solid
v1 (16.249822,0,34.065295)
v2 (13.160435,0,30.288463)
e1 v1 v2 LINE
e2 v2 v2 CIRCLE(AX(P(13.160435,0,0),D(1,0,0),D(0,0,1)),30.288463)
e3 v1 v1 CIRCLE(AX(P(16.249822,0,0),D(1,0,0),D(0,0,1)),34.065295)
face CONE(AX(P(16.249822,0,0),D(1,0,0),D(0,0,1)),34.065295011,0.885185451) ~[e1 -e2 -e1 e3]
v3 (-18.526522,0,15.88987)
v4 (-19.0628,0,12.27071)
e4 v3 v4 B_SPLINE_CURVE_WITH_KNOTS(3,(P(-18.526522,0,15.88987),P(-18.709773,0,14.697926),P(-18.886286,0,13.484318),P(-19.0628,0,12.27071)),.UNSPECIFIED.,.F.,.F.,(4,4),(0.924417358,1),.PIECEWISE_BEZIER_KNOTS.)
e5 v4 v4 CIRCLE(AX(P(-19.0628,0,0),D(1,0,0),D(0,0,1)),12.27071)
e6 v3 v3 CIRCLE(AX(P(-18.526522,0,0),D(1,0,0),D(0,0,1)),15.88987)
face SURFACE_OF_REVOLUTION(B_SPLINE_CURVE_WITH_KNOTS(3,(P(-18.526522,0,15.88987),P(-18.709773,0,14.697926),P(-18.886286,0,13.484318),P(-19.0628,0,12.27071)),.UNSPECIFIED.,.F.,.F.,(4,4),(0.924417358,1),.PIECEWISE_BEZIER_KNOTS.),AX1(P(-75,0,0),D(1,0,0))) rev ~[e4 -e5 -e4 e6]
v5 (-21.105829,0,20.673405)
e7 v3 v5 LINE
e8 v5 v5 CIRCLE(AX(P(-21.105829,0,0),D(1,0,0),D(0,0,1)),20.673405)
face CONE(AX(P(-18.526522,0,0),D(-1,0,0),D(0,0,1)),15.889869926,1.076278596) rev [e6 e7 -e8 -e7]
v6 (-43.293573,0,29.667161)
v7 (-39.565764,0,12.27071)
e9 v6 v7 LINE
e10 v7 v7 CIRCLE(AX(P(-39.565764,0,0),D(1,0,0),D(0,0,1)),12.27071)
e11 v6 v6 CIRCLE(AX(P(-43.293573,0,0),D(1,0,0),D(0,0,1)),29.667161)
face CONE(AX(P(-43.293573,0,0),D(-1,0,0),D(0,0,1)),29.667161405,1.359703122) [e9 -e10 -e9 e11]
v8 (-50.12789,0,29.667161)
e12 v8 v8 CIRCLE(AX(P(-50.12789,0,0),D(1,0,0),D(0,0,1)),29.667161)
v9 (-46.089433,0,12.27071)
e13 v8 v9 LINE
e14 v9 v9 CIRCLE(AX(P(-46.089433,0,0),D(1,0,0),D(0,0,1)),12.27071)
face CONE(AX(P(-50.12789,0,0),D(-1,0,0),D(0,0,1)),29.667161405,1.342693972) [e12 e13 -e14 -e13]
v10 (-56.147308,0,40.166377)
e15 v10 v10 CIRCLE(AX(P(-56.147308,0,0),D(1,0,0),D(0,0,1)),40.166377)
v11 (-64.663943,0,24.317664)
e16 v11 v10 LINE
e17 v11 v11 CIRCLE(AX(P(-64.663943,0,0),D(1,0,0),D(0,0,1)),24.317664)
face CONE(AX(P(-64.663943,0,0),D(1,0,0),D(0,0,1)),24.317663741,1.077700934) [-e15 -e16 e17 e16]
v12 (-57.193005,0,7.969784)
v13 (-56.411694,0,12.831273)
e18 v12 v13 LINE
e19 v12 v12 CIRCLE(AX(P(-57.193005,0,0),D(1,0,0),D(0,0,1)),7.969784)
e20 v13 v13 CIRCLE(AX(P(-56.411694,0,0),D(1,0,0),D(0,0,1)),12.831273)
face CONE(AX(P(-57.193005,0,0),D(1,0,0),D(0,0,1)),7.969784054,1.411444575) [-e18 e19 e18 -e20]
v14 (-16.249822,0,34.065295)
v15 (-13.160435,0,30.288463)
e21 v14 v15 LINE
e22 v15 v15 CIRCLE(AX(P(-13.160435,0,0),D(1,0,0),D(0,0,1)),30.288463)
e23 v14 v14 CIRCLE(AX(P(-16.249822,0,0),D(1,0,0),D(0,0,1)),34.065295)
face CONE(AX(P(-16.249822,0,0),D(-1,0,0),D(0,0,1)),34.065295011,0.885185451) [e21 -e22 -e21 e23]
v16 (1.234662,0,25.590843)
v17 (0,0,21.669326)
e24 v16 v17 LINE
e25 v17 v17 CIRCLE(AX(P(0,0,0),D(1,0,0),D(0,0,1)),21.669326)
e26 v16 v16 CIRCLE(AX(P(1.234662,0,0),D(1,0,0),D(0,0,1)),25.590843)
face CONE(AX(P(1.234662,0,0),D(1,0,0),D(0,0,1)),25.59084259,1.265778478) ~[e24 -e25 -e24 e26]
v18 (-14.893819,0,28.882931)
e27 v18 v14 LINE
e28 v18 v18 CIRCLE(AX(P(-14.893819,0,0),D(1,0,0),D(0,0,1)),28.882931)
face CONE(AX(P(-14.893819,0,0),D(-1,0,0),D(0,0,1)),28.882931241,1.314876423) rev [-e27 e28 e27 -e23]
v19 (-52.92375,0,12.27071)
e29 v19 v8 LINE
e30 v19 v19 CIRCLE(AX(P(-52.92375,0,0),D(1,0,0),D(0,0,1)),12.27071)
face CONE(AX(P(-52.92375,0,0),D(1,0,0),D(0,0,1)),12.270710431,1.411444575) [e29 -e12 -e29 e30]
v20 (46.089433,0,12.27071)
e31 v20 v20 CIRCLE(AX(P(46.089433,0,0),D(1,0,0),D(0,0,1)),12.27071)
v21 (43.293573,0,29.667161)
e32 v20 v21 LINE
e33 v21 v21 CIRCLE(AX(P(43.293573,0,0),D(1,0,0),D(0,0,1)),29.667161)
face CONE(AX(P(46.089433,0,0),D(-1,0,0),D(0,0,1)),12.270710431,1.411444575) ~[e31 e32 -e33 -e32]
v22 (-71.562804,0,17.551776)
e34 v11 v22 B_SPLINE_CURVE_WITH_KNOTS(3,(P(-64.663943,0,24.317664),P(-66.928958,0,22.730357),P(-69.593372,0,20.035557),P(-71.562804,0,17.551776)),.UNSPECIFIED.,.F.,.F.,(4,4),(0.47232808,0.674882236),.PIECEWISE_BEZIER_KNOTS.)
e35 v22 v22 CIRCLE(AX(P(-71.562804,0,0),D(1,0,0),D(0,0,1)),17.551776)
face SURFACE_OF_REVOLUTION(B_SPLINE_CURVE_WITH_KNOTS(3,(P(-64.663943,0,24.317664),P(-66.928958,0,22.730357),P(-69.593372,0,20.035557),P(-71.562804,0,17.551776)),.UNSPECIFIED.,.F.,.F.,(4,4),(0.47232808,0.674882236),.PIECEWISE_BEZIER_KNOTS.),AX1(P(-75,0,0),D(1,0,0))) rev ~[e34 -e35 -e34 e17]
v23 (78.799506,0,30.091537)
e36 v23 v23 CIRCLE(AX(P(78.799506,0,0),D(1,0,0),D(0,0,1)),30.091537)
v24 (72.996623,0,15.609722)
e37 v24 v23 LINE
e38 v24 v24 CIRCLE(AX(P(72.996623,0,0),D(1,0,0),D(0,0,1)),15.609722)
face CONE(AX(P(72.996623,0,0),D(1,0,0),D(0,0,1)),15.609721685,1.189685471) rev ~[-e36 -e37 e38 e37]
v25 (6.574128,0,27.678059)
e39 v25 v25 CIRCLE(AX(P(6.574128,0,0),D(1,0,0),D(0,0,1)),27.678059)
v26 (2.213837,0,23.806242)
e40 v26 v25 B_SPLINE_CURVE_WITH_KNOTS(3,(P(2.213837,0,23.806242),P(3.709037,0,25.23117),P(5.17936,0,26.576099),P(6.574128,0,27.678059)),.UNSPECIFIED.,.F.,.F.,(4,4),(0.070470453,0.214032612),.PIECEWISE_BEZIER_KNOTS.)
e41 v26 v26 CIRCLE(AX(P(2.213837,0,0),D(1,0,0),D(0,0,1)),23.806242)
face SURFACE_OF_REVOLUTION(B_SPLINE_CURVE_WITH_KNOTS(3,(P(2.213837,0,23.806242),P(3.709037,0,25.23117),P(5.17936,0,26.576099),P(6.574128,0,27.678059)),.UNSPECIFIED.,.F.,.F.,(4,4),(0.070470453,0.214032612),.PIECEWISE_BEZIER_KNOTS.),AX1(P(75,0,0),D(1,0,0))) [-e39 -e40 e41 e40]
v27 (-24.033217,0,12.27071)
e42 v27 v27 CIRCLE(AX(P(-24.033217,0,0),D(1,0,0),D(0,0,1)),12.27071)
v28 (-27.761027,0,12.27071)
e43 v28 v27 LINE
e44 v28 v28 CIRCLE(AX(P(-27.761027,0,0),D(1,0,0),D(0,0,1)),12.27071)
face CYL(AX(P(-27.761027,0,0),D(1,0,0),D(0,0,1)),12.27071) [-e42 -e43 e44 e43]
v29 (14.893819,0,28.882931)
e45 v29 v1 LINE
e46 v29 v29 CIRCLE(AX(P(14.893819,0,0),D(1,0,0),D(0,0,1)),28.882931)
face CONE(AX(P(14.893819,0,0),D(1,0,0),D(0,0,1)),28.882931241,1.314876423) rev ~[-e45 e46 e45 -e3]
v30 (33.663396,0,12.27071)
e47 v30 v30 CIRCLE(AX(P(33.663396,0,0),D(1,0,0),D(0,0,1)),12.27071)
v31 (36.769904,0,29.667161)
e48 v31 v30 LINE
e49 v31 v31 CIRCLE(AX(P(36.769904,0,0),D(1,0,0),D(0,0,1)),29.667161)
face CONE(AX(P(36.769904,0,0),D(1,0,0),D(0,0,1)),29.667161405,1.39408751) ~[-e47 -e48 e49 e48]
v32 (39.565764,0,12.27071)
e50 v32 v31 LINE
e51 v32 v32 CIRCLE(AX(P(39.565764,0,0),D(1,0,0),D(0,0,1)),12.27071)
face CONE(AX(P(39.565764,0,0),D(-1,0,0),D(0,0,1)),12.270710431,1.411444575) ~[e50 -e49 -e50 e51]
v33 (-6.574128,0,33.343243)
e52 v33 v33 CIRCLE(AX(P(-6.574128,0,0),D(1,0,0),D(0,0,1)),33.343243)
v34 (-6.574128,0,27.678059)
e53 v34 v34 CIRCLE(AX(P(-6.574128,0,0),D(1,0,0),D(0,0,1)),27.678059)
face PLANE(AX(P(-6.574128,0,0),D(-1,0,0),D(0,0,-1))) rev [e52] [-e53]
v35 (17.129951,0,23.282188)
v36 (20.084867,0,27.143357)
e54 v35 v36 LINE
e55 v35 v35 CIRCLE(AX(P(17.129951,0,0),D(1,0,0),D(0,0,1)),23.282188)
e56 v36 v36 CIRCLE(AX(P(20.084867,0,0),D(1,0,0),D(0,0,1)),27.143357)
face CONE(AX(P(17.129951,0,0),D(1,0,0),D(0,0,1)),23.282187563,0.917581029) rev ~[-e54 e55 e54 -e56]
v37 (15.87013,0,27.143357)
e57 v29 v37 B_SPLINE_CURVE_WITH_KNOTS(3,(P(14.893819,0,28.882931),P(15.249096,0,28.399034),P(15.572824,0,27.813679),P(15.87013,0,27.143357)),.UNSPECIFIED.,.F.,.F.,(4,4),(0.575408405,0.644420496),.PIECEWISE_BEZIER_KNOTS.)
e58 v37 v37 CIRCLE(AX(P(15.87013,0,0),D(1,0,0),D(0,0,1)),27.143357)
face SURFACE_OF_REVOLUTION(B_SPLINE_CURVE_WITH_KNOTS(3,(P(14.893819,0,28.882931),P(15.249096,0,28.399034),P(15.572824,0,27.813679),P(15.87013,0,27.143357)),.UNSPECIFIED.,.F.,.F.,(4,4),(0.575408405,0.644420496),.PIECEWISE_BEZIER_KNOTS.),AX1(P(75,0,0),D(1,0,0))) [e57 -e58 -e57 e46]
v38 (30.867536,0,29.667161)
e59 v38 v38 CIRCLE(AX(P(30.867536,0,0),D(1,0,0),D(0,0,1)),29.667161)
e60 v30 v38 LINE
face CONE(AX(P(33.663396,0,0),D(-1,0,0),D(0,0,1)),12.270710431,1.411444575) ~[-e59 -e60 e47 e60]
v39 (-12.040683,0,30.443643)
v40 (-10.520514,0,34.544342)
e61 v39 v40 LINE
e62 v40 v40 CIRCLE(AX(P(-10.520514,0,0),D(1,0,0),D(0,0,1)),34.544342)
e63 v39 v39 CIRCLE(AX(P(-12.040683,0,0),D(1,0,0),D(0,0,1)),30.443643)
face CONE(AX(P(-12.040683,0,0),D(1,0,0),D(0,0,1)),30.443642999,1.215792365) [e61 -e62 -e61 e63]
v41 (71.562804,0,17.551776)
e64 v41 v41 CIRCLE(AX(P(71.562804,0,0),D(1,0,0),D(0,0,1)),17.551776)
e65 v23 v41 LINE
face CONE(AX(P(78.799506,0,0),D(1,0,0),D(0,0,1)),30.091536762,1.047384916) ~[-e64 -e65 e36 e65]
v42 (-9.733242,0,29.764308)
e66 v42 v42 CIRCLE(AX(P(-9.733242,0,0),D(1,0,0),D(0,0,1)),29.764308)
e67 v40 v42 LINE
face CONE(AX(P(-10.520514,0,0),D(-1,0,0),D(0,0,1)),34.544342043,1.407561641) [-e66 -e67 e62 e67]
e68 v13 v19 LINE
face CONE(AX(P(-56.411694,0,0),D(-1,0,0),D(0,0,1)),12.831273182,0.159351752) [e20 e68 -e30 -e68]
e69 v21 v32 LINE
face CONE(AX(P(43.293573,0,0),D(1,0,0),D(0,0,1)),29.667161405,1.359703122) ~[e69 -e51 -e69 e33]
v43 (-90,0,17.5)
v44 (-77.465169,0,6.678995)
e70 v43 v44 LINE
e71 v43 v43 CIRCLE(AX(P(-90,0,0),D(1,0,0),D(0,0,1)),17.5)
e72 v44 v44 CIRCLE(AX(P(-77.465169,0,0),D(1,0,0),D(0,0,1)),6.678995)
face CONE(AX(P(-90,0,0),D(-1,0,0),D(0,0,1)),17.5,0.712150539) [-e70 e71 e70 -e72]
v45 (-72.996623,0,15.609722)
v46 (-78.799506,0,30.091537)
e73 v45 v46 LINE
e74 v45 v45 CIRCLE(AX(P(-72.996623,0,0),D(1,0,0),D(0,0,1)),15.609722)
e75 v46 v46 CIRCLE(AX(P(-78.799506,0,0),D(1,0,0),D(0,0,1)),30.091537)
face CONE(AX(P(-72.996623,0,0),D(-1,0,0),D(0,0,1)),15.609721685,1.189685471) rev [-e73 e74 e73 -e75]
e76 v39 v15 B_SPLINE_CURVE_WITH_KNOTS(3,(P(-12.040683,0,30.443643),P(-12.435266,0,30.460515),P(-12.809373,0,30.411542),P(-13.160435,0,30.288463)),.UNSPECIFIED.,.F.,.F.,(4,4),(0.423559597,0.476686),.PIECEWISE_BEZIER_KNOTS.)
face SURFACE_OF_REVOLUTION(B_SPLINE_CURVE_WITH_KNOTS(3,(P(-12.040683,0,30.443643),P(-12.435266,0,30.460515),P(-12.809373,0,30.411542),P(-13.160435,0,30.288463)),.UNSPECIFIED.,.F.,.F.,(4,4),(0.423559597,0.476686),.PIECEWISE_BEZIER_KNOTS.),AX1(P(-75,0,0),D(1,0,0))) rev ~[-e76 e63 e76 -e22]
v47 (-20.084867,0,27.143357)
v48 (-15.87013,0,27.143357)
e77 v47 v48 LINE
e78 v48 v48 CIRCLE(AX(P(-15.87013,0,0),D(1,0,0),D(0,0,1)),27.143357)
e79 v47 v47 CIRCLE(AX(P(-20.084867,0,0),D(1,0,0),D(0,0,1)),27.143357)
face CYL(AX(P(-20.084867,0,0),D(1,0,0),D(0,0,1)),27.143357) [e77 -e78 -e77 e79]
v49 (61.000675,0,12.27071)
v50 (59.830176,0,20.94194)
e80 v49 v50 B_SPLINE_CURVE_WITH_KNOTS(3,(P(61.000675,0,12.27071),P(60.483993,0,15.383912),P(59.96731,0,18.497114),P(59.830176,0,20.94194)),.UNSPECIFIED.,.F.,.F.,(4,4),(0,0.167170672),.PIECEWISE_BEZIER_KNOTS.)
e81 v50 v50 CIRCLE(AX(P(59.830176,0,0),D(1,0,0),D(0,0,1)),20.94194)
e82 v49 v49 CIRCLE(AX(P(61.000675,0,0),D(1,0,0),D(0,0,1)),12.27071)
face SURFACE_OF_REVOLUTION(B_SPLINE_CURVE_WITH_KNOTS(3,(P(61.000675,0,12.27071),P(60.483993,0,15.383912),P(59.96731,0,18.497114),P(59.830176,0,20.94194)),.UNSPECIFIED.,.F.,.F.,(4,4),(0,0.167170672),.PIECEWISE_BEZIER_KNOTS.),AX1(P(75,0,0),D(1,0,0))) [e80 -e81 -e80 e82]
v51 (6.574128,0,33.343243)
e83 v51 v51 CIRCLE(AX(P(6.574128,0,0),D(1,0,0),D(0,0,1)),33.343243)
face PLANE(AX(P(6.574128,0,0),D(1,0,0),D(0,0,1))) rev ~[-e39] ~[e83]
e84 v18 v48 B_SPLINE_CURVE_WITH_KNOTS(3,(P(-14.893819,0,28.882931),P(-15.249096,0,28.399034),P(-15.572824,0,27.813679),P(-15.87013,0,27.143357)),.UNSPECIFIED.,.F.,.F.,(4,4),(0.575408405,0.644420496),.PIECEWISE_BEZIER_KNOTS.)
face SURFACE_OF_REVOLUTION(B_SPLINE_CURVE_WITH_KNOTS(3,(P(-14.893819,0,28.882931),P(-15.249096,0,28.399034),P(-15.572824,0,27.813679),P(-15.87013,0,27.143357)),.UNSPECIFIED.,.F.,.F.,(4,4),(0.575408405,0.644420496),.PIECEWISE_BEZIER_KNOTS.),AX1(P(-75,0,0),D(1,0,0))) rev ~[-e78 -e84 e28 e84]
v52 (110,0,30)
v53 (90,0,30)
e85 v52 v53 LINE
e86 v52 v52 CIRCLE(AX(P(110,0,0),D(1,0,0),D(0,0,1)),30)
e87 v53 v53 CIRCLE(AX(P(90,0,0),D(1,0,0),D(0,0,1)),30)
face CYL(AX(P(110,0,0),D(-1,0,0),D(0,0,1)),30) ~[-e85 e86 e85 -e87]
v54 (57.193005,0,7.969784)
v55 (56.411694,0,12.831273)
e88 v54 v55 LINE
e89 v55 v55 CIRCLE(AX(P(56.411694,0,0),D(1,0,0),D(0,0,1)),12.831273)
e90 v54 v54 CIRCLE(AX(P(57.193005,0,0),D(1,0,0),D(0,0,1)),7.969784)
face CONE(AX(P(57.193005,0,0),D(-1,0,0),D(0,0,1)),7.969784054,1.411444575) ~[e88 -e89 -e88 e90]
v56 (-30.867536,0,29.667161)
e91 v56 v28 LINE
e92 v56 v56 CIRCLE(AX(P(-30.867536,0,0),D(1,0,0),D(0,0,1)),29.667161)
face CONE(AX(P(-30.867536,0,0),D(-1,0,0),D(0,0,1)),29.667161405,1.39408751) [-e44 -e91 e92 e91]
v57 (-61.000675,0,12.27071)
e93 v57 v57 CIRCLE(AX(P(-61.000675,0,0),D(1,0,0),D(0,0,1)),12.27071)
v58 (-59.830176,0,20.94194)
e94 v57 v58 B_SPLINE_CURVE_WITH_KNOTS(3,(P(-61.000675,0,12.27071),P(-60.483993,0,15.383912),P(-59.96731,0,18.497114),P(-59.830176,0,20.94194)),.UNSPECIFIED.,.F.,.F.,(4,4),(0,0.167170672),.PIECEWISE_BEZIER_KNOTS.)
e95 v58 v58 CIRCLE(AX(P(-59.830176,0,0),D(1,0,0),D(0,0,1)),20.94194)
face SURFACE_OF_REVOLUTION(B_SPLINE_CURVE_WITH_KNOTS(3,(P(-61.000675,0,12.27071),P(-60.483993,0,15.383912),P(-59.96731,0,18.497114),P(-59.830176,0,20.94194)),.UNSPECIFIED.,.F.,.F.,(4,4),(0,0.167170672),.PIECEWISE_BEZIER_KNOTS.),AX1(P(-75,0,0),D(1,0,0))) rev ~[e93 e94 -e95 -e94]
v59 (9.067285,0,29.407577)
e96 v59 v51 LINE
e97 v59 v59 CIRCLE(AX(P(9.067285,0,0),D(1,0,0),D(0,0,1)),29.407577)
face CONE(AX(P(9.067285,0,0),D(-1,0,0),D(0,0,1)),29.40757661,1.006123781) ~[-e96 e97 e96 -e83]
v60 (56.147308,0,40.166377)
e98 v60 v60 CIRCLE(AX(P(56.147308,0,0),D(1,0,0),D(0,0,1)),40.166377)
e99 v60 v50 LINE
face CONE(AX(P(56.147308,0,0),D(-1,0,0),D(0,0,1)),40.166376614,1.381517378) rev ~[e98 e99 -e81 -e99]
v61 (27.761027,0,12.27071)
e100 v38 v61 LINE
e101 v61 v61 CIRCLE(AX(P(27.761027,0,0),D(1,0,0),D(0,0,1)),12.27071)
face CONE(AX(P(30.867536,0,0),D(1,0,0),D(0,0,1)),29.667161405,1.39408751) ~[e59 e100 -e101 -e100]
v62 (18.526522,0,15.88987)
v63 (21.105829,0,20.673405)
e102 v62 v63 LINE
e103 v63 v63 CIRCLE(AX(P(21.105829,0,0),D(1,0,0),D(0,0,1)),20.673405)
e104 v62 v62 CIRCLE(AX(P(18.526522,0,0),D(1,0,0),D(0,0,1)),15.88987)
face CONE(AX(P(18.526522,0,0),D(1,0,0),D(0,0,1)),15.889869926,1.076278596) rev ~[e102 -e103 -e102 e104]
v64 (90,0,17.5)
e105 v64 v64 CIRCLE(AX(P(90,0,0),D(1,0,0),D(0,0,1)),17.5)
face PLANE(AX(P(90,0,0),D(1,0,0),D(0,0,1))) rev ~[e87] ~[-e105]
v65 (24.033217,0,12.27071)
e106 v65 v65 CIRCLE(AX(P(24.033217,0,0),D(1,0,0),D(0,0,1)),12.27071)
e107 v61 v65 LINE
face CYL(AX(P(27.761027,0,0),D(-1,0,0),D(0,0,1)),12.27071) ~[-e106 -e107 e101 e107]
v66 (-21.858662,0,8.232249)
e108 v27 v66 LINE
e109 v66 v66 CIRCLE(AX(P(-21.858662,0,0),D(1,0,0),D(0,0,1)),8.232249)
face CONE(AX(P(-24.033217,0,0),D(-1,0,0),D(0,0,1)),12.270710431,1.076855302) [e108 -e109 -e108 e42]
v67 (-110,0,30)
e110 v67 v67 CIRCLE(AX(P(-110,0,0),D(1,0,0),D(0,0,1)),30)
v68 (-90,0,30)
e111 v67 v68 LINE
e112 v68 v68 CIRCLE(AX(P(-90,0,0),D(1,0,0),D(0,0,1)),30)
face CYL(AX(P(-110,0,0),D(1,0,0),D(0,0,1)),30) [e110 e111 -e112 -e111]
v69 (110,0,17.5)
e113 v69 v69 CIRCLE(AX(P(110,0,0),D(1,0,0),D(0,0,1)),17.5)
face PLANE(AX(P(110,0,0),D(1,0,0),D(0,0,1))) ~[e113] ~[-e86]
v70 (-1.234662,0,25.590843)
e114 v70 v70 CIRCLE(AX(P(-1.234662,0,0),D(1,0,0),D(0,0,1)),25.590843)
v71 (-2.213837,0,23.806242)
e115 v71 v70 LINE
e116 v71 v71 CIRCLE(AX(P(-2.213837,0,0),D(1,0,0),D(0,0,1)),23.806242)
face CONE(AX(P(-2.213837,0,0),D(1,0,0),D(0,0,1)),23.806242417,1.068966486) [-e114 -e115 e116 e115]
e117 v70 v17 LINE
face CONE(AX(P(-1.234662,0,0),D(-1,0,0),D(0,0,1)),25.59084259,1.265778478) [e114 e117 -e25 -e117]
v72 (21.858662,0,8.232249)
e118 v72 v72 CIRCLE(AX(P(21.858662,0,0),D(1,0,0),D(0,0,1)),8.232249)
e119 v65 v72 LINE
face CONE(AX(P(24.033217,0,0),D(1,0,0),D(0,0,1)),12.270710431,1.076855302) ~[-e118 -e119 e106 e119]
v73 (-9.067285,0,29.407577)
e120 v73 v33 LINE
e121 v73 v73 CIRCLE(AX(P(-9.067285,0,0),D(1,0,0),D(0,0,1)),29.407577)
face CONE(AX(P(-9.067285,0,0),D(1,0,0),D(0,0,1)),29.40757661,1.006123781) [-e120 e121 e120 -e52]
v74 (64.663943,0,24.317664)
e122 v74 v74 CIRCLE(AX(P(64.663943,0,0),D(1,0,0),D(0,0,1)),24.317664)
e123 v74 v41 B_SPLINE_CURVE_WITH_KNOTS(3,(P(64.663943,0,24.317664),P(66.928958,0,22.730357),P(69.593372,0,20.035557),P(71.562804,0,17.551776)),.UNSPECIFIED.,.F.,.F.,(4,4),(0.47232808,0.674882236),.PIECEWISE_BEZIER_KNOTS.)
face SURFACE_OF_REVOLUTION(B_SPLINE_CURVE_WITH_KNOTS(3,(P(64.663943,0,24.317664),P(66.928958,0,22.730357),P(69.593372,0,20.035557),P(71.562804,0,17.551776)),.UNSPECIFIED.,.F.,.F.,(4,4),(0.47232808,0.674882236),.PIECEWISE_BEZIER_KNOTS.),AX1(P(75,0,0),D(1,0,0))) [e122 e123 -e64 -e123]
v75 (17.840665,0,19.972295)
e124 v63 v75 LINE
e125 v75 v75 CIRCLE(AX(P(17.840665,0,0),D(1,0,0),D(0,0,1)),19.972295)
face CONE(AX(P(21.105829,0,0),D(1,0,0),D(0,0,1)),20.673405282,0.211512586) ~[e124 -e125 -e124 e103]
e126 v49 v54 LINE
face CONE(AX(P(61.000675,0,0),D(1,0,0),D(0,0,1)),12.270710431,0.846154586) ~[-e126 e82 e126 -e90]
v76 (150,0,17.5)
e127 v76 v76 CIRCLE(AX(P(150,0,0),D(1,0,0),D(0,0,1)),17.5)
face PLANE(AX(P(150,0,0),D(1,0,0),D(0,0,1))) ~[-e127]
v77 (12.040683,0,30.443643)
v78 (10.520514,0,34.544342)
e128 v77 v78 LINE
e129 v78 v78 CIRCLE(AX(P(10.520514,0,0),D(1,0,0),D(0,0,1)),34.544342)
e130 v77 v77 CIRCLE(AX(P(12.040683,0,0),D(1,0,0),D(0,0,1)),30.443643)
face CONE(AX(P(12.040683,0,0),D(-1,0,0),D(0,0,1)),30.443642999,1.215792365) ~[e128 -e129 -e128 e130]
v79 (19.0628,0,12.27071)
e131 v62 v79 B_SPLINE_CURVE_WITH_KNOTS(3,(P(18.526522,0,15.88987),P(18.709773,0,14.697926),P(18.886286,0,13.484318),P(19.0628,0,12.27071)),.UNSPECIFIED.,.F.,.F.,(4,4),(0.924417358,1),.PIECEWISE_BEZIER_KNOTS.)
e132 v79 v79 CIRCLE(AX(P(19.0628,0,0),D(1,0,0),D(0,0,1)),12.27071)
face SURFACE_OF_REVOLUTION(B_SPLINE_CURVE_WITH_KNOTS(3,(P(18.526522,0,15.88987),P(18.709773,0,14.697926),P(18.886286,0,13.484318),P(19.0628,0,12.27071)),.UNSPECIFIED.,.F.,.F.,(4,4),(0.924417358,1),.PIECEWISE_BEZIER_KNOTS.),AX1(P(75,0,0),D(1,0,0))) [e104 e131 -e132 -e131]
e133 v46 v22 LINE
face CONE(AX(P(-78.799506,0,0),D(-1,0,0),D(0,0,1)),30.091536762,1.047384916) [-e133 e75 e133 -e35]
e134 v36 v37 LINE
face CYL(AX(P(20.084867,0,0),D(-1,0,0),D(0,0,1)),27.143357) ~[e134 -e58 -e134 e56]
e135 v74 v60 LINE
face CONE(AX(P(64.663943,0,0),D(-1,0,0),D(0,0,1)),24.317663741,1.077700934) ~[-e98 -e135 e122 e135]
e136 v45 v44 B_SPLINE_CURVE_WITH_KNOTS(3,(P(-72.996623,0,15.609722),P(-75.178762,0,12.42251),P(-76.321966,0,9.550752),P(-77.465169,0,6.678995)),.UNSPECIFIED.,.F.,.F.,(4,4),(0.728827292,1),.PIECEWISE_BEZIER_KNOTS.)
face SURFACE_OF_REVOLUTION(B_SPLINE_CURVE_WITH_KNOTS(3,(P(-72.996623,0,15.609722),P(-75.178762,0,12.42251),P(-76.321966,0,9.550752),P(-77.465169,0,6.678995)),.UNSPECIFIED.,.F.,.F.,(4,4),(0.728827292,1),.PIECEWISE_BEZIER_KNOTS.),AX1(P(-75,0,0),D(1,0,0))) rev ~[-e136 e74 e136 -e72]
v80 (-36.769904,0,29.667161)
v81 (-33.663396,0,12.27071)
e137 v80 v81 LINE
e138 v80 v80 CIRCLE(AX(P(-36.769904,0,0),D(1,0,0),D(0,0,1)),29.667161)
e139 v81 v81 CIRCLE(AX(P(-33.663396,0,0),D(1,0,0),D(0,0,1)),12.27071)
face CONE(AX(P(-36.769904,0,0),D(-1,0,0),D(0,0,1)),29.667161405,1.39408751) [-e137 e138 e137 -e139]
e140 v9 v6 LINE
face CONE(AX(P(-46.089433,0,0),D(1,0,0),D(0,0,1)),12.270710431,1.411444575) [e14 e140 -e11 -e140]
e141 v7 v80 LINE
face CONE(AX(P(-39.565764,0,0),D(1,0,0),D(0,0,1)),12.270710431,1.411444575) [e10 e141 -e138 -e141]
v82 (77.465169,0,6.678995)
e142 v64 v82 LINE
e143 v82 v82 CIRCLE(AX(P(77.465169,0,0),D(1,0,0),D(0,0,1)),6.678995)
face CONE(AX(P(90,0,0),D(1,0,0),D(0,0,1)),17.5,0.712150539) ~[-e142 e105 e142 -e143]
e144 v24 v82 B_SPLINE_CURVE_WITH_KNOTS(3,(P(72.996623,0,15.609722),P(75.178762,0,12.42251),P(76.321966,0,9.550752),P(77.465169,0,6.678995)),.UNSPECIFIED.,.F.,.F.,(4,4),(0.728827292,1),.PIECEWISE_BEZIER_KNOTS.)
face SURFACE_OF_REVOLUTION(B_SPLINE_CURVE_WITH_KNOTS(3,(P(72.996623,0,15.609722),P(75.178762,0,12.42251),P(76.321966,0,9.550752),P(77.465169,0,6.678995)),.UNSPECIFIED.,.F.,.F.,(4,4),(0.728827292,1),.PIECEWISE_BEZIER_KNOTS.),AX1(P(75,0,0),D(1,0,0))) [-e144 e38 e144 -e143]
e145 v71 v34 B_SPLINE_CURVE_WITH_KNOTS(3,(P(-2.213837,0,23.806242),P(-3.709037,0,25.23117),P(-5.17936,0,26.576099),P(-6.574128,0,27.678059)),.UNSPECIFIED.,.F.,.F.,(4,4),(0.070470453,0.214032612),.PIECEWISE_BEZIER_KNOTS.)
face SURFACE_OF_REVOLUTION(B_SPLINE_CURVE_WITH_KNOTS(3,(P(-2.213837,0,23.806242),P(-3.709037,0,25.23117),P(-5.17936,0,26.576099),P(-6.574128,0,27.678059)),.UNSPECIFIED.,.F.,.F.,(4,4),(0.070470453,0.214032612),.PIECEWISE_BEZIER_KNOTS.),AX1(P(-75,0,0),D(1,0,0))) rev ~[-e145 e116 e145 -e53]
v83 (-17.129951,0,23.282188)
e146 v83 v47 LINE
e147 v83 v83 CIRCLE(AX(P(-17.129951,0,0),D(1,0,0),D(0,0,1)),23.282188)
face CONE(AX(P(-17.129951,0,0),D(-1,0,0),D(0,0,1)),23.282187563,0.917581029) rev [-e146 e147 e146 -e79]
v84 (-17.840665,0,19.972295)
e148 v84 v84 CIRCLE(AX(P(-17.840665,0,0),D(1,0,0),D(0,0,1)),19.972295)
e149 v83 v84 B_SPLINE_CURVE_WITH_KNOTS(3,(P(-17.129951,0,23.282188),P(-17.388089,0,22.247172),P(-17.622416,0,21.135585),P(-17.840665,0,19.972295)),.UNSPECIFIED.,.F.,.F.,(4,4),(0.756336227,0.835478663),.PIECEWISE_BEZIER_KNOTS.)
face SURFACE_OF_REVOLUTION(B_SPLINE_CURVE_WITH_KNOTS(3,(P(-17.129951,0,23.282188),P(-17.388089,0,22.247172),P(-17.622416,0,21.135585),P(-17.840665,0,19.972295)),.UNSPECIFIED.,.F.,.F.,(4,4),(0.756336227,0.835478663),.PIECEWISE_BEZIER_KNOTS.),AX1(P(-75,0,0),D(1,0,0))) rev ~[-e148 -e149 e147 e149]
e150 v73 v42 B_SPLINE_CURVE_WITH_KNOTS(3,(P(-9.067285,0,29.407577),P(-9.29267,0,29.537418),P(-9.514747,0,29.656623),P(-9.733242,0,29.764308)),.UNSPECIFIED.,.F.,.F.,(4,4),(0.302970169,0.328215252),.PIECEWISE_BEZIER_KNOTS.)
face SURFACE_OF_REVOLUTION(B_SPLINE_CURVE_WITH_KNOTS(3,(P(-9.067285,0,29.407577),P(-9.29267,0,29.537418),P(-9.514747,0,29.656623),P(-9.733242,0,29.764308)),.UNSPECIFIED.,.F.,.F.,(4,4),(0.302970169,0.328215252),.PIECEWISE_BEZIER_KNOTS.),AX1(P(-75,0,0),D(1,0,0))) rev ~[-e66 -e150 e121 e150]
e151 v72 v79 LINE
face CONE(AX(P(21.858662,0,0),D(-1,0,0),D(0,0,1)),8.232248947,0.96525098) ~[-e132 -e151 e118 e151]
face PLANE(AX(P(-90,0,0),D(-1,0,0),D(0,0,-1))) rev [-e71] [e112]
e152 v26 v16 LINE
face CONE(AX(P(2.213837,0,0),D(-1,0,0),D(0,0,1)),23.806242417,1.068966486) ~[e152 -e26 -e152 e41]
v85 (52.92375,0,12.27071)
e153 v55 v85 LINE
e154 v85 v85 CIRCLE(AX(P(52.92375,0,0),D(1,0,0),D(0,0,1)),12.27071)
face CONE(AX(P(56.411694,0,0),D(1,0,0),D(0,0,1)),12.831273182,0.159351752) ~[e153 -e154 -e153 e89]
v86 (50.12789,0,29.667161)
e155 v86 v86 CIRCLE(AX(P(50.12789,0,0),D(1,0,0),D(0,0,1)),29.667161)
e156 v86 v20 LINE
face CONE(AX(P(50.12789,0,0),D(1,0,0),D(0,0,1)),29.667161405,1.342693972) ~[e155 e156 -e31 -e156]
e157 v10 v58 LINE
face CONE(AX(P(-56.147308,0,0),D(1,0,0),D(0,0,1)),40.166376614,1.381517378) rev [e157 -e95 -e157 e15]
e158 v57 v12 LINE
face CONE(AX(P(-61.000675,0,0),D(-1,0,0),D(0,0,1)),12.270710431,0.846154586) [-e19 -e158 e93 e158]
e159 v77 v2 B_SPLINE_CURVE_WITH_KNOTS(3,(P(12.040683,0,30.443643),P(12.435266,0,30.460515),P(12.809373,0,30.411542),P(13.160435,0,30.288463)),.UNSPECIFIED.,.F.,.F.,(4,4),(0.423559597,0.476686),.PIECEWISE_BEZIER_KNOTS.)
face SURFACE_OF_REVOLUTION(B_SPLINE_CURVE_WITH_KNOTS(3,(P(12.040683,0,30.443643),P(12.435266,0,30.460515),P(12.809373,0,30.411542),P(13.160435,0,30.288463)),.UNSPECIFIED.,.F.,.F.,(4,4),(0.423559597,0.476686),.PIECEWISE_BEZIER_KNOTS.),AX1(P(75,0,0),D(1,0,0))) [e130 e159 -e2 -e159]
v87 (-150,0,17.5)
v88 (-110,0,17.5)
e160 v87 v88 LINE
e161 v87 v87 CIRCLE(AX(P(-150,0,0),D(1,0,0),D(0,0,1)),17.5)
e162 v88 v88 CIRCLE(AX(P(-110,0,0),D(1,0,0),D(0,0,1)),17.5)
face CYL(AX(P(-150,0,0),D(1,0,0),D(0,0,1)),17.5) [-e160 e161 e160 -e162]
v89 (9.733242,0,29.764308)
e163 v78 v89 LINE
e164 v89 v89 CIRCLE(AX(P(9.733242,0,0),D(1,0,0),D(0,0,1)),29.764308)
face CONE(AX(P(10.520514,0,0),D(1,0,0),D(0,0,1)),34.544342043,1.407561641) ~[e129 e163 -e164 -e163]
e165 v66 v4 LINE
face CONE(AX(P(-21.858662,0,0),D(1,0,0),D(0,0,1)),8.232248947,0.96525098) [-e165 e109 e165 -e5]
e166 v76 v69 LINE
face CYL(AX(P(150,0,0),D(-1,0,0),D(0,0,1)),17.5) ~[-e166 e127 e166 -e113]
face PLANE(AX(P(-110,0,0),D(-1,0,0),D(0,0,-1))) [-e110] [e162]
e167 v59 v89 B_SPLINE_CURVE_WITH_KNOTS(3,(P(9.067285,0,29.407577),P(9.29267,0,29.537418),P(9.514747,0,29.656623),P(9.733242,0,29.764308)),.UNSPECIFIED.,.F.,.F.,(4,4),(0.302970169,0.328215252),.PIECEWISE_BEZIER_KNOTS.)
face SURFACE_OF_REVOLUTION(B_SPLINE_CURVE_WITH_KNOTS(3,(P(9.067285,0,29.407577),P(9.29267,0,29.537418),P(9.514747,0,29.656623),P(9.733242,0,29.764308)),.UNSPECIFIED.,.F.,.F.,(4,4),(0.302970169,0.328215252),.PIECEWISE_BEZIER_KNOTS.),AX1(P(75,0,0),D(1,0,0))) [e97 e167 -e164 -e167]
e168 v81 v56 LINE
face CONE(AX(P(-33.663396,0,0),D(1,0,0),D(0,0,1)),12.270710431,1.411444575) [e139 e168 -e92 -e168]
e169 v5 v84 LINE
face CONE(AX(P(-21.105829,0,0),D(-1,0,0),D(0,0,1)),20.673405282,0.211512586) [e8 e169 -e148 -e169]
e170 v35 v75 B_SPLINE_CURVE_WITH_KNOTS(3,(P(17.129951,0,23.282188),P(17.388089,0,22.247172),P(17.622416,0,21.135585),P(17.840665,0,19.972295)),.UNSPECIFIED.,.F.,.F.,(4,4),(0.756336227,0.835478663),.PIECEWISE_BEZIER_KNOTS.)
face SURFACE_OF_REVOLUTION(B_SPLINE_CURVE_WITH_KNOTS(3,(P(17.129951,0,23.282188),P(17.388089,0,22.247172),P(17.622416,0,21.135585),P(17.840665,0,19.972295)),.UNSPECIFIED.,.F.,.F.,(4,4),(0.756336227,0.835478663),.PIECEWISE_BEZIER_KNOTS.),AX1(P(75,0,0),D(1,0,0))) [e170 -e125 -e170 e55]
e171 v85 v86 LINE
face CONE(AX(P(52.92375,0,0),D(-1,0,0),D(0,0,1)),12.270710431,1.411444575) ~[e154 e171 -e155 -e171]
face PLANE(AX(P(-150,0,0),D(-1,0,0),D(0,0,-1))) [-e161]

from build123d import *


with BuildPart() as f1:
    # F0 (on Front) → F1 (revolve)
    with BuildSketch(Plane.XZ):
        with BuildLine():
            Line((0, 21.6693256305), (0, 0))
            Line((0, 0), (150, 0))
            Line((150, 0), (150, 17.5))
            Line((150, 17.5), (110, 17.5))
            Line((110, 17.5), (110, 30))
            Line((110, 30), (90, 30))
            Line((90, 30), (90, 17.5))
            Line((90, 17.5), (77.4651691318, 6.678994745))
            add(Edge.make_bspline(
                [(72.9966231084, 15.6097216852), (75.1787620527, 12.4225102506), (76.3219655922, 9.5507524978), (77.4651691318, 6.678994745)],
                knots=[0.7288272916, 0.7288272916, 0.7288272916, 0.7288272916, 1, 1, 1, 1], degree=3))
            add(Edge.make_bspline(
                [(71.5628042817, 17.5517760217), (72.0873115849, 16.8902851499), (72.562524827, 16.2437615157), (72.9966231084, 15.6097216852)],
                knots=[0.6748822361, 0.6748822361, 0.6748822361, 0.6748822361, 0.7288272916, 0.7288272916, 0.7288272916, 0.7288272916], degree=3))
            add(Edge.make_bspline(
                [(64.663942956, 24.3176637406), (66.9289575988, 22.7303573773), (69.5933719963, 20.0355574133), (71.5628042817, 17.5517760217)],
                knots=[0.4723280801, 0.4723280801, 0.4723280801, 0.4723280801, 0.6748822361, 0.6748822361, 0.6748822361, 0.6748822361], degree=3))
            Line((64.663942956, 24.3176637406), (61.000674963, 25.6286989897))
            add(Edge.make_bspline(
                [(59.830175783, 20.9419401689), (59.6901790229, 23.437797919), (59.945740487, 25.2370869651), (61.000674963, 25.6286989897)],
                knots=[0.167170672, 0.167170672, 0.167170672, 0.167170672, 0.3378307298, 0.3378307298, 0.3378307298, 0.3378307298], degree=3))
            add(Edge.make_bspline(
                [(61.000674963, 12.270710431), (60.4839925374, 15.3839120928), (59.9673101118, 18.4971137545), (59.830175783, 20.9419401689)],
                knots=[0, 0, 0, 0, 0.167170672, 0.167170672, 0.167170672, 0.167170672], degree=3))
            Line((61.000674963, 12.270710431), (57.1930049726, 7.9697840538))
            Line((57.1930049726, 7.9697840538), (56.4116936669, 12.8312731816))
            Line((56.4116936669, 12.8312731816), (52.9237501323, 12.270710431))
            Line((52.9237501323, 12.270710431), (50.127889961, 29.6671614051))
            Line((50.127889961, 29.6671614051), (46.0894331336, 12.270710431))
            Line((46.0894331336, 12.270710431), (43.2935729623, 29.6671614051))
            Line((43.2935729623, 29.6671614051), (39.5657643676, 12.270710431))
            Line((39.5657643676, 12.270710431), (36.7699041963, 29.6671614051))
            Line((36.7699041963, 29.6671614051), (33.6633957922, 12.270710431))
            Line((33.6633957922, 12.270710431), (30.8675356209, 29.6671614051))
            Line((30.8675356209, 29.6671614051), (27.7610272169, 12.270710431))
            Line((27.7610272169, 12.270710431), (24.0332167596, 12.270710431))
            Line((24.0332167596, 12.270710431), (21.8586623669, 8.232248947))
            Line((21.8586623669, 8.232248947), (19.0628003329, 12.270710431))
            add(Edge.make_bspline(
                [(18.5265220099, 15.8898699265), (18.7097725422, 14.6979257427), (18.8862864375, 13.4843180868), (19.0628003329, 12.270710431)],
                knots=[0.924417358, 0.924417358, 0.924417358, 0.924417358, 1, 1, 1, 1], degree=3))
            add(Edge.make_bspline(
                [(17.8406653269, 19.9722953613), (18.0859294682, 18.6650141612), (18.3108896528, 17.2924401159), (18.5265220099, 15.8898699265)],
                knots=[0.8354786627, 0.8354786627, 0.8354786627, 0.8354786627, 0.924417358, 0.924417358, 0.924417358, 0.924417358], degree=3))
            Line((17.8406653269, 19.9722953613), (17.1299511809, 23.282187563))
            add(Edge.make_bspline(
                [(15.8701302608, 27.1433569712), (16.3522663189, 26.0563077049), (16.7649165996, 24.7458081918), (17.1299511809, 23.282187563)],
                knots=[0.6444204964, 0.6444204964, 0.6444204964, 0.6444204964, 0.7563362266, 0.7563362266, 0.7563362266, 0.7563362266], degree=3))
            Line((15.8701302608, 27.1433569712), (14.8938185182, 28.8829312407))
            add(Edge.make_bspline(
                [(13.1604354829, 30.2884634584), (13.8127999128, 30.0597529266), (14.3855904242, 29.5751510115), (14.8938185182, 28.8829312407)],
                knots=[0.4766859999, 0.4766859999, 0.4766859999, 0.4766859999, 0.575408405, 0.575408405, 0.575408405, 0.575408405], degree=3))
            add(Edge.make_bspline(
                [(12.04068262, 30.443642999), (12.4352655238, 30.4605151191), (12.8093725631, 30.4115415776), (13.1604354829, 30.2884634584)],
                knots=[0.4235595966, 0.4235595966, 0.4235595966, 0.4235595966, 0.4766859999, 0.4766859999, 0.4766859999, 0.4766859999], degree=3))
            add(Edge.make_bspline(
                [(9.7332416868, 29.7643078399), (10.558441204, 30.1710049421), (11.3325366462, 30.4133631166), (12.04068262, 30.443642999)],
                knots=[0.3282152515, 0.3282152515, 0.3282152515, 0.3282152515, 0.4235595966, 0.4235595966, 0.4235595966, 0.4235595966], degree=3))
            add(Edge.make_bspline(
                [(9.0672849858, 29.4075766104), (9.2926696096, 29.5374176038), (9.5147470344, 29.6566234071), (9.7332416868, 29.7643078399)],
                knots=[0.3029701695, 0.3029701695, 0.3029701695, 0.3029701695, 0.3282152515, 0.3282152515, 0.3282152515, 0.3282152515], degree=3))
            add(Edge.make_bspline(
                [(6.5741276375, 27.678059166), (7.438193805, 28.3607294899), (8.2732626939, 28.9501512486), (9.0672849858, 29.4075766104)],
                knots=[0.2140326121, 0.2140326121, 0.2140326121, 0.2140326121, 0.3029701695, 0.3029701695, 0.3029701695, 0.3029701695], degree=3))
            add(Edge.make_bspline(
                [(2.2138374421, 23.8062424173), (3.7090372266, 25.2311697916), (5.1793602452, 26.5760992199), (6.5741276375, 27.678059166)],
                knots=[0.0704704525, 0.0704704525, 0.0704704525, 0.0704704525, 0.2140326121, 0.2140326121, 0.2140326121, 0.2140326121], degree=3))
            add(Edge.make_bspline(
                [(0, 21.6693256305), (0.7399438662, 22.3880565014), (1.4798877324, 23.1067873722), (2.2138374421, 23.8062424173)],
                knots=[0, 0, 0, 0, 0.0704704525, 0.0704704525, 0.0704704525, 0.0704704525], degree=3))
        make_face()
        with BuildLine():
            Line((1.2346615549, 25.5908425897), (0, 21.6693256305))
            add(Edge.make_bspline(
                [(0, 21.6693256305), (0.7399438662, 22.3880565014), (1.4798877324, 23.1067873722), (2.2138374421, 23.8062424173)],
                knots=[0, 0, 0, 0, 0.0704704525, 0.0704704525, 0.0704704525, 0.0704704525], degree=3))
            Line((2.2138374421, 23.8062424173), (1.2346615549, 25.5908425897))
        make_face()
        with BuildLine():
            Line((6.5741276375, 33.3432426597), (6.5741276375, 27.678059166))
            add(Edge.make_bspline(
                [(6.5741276375, 27.678059166), (7.438193805, 28.3607294899), (8.2732626939, 28.9501512486), (9.0672849858, 29.4075766104)],
                knots=[0.2140326121, 0.2140326121, 0.2140326121, 0.2140326121, 0.3029701695, 0.3029701695, 0.3029701695, 0.3029701695], degree=3))
            Line((9.0672849858, 29.4075766104), (6.5741276375, 33.3432426597))
        make_face()
        with BuildLine():
            Line((10.5205139602, 34.5443420431), (9.7332416868, 29.7643078399))
            add(Edge.make_bspline(
                [(9.7332416868, 29.7643078399), (10.558441204, 30.1710049421), (11.3325366462, 30.4133631166), (12.04068262, 30.443642999)],
                knots=[0.3282152515, 0.3282152515, 0.3282152515, 0.3282152515, 0.4235595966, 0.4235595966, 0.4235595966, 0.4235595966], degree=3))
            Line((12.04068262, 30.443642999), (10.5205139602, 34.5443420431))
        make_face()
        with BuildLine():
            Line((16.2498224527, 34.0652950108), (13.1604354829, 30.2884634584))
            add(Edge.make_bspline(
                [(13.1604354829, 30.2884634584), (13.8127999128, 30.0597529266), (14.3855904242, 29.5751510115), (14.8938185182, 28.8829312407)],
                knots=[0.4766859999, 0.4766859999, 0.4766859999, 0.4766859999, 0.575408405, 0.575408405, 0.575408405, 0.575408405], degree=3))
            Line((14.8938185182, 28.8829312407), (16.2498224527, 34.0652950108))
        make_face()
        with BuildLine():
            add(Edge.make_bspline(
                [(71.5628042817, 17.5517760217), (72.0873115849, 16.8902851499), (72.562524827, 16.2437615157), (72.9966231084, 15.6097216852)],
                knots=[0.6748822361, 0.6748822361, 0.6748822361, 0.6748822361, 0.7288272916, 0.7288272916, 0.7288272916, 0.7288272916], degree=3))
            Line((72.9966231084, 15.6097216852), (78.7995061792, 30.0915367624))
            Line((78.7995061792, 30.0915367624), (71.5628042817, 17.5517760217))
        make_face()
        with BuildLine():
            add(Edge.make_bspline(
                [(14.8938185182, 28.8829312407), (15.2490963671, 28.399033648), (15.5728242636, 27.8136786793), (15.8701302608, 27.1433569712)],
                knots=[0.575408405, 0.575408405, 0.575408405, 0.575408405, 0.6444204964, 0.6444204964, 0.6444204964, 0.6444204964], degree=3))
            Line((14.8938185182, 28.8829312407), (15.8701302608, 27.1433569712))
        make_face()
        with BuildLine():
            Line((20.0848666792, 27.1433569712), (15.8701302608, 27.1433569712))
            add(Edge.make_bspline(
                [(15.8701302608, 27.1433569712), (16.3522663189, 26.0563077049), (16.7649165996, 24.7458081918), (17.1299511809, 23.282187563)],
                knots=[0.6444204964, 0.6444204964, 0.6444204964, 0.6444204964, 0.7563362266, 0.7563362266, 0.7563362266, 0.7563362266], degree=3))
            Line((17.1299511809, 23.282187563), (20.0848666792, 27.1433569712))
        make_face()
        with BuildLine():
            Line((61.000674963, 25.6286989897), (64.663942956, 24.3176637406))
            add(Edge.make_bspline(
                [(61.000674963, 25.6286989897), (61.8320698045, 25.9373287905), (63.1599576823, 25.3716460638), (64.663942956, 24.3176637406)],
                knots=[0.3378307298, 0.3378307298, 0.3378307298, 0.3378307298, 0.4723280801, 0.4723280801, 0.4723280801, 0.4723280801], degree=3))
        make_face()
        with BuildLine():
            add(Edge.make_bspline(
                [(61.000674963, 25.6286989897), (61.8320698045, 25.9373287905), (63.1599576823, 25.3716460638), (64.663942956, 24.3176637406)],
                knots=[0.3378307298, 0.3378307298, 0.3378307298, 0.3378307298, 0.4723280801, 0.4723280801, 0.4723280801, 0.4723280801], degree=3))
            Line((64.663942956, 24.3176637406), (56.147307816, 40.1663766136))
            Line((56.147307816, 40.1663766136), (59.830175783, 20.9419401689))
            add(Edge.make_bspline(
                [(59.830175783, 20.9419401689), (59.6901790229, 23.437797919), (59.945740487, 25.2370869651), (61.000674963, 25.6286989897)],
                knots=[0.167170672, 0.167170672, 0.167170672, 0.167170672, 0.3378307298, 0.3378307298, 0.3378307298, 0.3378307298], degree=3))
        make_face()
        with BuildLine():
            add(Edge.make_bspline(
                [(17.1299511809, 23.282187563), (17.3880893889, 22.2471721816), (17.6224160983, 21.1355845078), (17.8406653269, 19.9722953613)],
                knots=[0.7563362266, 0.7563362266, 0.7563362266, 0.7563362266, 0.8354786627, 0.8354786627, 0.8354786627, 0.8354786627], degree=3))
            Line((17.1299511809, 23.282187563), (17.8406653269, 19.9722953613))
        make_face()
        with BuildLine():
            Line((21.1058293493, 20.6734052822), (17.8406653269, 19.9722953613))
            add(Edge.make_bspline(
                [(17.8406653269, 19.9722953613), (18.0859294682, 18.6650141612), (18.3108896528, 17.2924401159), (18.5265220099, 15.8898699265)],
                knots=[0.8354786627, 0.8354786627, 0.8354786627, 0.8354786627, 0.924417358, 0.924417358, 0.924417358, 0.924417358], degree=3))
            Line((18.5265220099, 15.8898699265), (21.1058293493, 20.6734052822))
        make_face()
    revolve(axis=Axis((75, 0, 0), (1, 0, 0)))

    # F2: F1 across face


with BuildPart() as f1_1:
    add(f1.part)
    add(f1.part.mirror(Plane(origin=(0, 0, 0), x_dir=(0, -1, 0), z_dir=(-1, 0, 0))))


solid = f1_1.part
